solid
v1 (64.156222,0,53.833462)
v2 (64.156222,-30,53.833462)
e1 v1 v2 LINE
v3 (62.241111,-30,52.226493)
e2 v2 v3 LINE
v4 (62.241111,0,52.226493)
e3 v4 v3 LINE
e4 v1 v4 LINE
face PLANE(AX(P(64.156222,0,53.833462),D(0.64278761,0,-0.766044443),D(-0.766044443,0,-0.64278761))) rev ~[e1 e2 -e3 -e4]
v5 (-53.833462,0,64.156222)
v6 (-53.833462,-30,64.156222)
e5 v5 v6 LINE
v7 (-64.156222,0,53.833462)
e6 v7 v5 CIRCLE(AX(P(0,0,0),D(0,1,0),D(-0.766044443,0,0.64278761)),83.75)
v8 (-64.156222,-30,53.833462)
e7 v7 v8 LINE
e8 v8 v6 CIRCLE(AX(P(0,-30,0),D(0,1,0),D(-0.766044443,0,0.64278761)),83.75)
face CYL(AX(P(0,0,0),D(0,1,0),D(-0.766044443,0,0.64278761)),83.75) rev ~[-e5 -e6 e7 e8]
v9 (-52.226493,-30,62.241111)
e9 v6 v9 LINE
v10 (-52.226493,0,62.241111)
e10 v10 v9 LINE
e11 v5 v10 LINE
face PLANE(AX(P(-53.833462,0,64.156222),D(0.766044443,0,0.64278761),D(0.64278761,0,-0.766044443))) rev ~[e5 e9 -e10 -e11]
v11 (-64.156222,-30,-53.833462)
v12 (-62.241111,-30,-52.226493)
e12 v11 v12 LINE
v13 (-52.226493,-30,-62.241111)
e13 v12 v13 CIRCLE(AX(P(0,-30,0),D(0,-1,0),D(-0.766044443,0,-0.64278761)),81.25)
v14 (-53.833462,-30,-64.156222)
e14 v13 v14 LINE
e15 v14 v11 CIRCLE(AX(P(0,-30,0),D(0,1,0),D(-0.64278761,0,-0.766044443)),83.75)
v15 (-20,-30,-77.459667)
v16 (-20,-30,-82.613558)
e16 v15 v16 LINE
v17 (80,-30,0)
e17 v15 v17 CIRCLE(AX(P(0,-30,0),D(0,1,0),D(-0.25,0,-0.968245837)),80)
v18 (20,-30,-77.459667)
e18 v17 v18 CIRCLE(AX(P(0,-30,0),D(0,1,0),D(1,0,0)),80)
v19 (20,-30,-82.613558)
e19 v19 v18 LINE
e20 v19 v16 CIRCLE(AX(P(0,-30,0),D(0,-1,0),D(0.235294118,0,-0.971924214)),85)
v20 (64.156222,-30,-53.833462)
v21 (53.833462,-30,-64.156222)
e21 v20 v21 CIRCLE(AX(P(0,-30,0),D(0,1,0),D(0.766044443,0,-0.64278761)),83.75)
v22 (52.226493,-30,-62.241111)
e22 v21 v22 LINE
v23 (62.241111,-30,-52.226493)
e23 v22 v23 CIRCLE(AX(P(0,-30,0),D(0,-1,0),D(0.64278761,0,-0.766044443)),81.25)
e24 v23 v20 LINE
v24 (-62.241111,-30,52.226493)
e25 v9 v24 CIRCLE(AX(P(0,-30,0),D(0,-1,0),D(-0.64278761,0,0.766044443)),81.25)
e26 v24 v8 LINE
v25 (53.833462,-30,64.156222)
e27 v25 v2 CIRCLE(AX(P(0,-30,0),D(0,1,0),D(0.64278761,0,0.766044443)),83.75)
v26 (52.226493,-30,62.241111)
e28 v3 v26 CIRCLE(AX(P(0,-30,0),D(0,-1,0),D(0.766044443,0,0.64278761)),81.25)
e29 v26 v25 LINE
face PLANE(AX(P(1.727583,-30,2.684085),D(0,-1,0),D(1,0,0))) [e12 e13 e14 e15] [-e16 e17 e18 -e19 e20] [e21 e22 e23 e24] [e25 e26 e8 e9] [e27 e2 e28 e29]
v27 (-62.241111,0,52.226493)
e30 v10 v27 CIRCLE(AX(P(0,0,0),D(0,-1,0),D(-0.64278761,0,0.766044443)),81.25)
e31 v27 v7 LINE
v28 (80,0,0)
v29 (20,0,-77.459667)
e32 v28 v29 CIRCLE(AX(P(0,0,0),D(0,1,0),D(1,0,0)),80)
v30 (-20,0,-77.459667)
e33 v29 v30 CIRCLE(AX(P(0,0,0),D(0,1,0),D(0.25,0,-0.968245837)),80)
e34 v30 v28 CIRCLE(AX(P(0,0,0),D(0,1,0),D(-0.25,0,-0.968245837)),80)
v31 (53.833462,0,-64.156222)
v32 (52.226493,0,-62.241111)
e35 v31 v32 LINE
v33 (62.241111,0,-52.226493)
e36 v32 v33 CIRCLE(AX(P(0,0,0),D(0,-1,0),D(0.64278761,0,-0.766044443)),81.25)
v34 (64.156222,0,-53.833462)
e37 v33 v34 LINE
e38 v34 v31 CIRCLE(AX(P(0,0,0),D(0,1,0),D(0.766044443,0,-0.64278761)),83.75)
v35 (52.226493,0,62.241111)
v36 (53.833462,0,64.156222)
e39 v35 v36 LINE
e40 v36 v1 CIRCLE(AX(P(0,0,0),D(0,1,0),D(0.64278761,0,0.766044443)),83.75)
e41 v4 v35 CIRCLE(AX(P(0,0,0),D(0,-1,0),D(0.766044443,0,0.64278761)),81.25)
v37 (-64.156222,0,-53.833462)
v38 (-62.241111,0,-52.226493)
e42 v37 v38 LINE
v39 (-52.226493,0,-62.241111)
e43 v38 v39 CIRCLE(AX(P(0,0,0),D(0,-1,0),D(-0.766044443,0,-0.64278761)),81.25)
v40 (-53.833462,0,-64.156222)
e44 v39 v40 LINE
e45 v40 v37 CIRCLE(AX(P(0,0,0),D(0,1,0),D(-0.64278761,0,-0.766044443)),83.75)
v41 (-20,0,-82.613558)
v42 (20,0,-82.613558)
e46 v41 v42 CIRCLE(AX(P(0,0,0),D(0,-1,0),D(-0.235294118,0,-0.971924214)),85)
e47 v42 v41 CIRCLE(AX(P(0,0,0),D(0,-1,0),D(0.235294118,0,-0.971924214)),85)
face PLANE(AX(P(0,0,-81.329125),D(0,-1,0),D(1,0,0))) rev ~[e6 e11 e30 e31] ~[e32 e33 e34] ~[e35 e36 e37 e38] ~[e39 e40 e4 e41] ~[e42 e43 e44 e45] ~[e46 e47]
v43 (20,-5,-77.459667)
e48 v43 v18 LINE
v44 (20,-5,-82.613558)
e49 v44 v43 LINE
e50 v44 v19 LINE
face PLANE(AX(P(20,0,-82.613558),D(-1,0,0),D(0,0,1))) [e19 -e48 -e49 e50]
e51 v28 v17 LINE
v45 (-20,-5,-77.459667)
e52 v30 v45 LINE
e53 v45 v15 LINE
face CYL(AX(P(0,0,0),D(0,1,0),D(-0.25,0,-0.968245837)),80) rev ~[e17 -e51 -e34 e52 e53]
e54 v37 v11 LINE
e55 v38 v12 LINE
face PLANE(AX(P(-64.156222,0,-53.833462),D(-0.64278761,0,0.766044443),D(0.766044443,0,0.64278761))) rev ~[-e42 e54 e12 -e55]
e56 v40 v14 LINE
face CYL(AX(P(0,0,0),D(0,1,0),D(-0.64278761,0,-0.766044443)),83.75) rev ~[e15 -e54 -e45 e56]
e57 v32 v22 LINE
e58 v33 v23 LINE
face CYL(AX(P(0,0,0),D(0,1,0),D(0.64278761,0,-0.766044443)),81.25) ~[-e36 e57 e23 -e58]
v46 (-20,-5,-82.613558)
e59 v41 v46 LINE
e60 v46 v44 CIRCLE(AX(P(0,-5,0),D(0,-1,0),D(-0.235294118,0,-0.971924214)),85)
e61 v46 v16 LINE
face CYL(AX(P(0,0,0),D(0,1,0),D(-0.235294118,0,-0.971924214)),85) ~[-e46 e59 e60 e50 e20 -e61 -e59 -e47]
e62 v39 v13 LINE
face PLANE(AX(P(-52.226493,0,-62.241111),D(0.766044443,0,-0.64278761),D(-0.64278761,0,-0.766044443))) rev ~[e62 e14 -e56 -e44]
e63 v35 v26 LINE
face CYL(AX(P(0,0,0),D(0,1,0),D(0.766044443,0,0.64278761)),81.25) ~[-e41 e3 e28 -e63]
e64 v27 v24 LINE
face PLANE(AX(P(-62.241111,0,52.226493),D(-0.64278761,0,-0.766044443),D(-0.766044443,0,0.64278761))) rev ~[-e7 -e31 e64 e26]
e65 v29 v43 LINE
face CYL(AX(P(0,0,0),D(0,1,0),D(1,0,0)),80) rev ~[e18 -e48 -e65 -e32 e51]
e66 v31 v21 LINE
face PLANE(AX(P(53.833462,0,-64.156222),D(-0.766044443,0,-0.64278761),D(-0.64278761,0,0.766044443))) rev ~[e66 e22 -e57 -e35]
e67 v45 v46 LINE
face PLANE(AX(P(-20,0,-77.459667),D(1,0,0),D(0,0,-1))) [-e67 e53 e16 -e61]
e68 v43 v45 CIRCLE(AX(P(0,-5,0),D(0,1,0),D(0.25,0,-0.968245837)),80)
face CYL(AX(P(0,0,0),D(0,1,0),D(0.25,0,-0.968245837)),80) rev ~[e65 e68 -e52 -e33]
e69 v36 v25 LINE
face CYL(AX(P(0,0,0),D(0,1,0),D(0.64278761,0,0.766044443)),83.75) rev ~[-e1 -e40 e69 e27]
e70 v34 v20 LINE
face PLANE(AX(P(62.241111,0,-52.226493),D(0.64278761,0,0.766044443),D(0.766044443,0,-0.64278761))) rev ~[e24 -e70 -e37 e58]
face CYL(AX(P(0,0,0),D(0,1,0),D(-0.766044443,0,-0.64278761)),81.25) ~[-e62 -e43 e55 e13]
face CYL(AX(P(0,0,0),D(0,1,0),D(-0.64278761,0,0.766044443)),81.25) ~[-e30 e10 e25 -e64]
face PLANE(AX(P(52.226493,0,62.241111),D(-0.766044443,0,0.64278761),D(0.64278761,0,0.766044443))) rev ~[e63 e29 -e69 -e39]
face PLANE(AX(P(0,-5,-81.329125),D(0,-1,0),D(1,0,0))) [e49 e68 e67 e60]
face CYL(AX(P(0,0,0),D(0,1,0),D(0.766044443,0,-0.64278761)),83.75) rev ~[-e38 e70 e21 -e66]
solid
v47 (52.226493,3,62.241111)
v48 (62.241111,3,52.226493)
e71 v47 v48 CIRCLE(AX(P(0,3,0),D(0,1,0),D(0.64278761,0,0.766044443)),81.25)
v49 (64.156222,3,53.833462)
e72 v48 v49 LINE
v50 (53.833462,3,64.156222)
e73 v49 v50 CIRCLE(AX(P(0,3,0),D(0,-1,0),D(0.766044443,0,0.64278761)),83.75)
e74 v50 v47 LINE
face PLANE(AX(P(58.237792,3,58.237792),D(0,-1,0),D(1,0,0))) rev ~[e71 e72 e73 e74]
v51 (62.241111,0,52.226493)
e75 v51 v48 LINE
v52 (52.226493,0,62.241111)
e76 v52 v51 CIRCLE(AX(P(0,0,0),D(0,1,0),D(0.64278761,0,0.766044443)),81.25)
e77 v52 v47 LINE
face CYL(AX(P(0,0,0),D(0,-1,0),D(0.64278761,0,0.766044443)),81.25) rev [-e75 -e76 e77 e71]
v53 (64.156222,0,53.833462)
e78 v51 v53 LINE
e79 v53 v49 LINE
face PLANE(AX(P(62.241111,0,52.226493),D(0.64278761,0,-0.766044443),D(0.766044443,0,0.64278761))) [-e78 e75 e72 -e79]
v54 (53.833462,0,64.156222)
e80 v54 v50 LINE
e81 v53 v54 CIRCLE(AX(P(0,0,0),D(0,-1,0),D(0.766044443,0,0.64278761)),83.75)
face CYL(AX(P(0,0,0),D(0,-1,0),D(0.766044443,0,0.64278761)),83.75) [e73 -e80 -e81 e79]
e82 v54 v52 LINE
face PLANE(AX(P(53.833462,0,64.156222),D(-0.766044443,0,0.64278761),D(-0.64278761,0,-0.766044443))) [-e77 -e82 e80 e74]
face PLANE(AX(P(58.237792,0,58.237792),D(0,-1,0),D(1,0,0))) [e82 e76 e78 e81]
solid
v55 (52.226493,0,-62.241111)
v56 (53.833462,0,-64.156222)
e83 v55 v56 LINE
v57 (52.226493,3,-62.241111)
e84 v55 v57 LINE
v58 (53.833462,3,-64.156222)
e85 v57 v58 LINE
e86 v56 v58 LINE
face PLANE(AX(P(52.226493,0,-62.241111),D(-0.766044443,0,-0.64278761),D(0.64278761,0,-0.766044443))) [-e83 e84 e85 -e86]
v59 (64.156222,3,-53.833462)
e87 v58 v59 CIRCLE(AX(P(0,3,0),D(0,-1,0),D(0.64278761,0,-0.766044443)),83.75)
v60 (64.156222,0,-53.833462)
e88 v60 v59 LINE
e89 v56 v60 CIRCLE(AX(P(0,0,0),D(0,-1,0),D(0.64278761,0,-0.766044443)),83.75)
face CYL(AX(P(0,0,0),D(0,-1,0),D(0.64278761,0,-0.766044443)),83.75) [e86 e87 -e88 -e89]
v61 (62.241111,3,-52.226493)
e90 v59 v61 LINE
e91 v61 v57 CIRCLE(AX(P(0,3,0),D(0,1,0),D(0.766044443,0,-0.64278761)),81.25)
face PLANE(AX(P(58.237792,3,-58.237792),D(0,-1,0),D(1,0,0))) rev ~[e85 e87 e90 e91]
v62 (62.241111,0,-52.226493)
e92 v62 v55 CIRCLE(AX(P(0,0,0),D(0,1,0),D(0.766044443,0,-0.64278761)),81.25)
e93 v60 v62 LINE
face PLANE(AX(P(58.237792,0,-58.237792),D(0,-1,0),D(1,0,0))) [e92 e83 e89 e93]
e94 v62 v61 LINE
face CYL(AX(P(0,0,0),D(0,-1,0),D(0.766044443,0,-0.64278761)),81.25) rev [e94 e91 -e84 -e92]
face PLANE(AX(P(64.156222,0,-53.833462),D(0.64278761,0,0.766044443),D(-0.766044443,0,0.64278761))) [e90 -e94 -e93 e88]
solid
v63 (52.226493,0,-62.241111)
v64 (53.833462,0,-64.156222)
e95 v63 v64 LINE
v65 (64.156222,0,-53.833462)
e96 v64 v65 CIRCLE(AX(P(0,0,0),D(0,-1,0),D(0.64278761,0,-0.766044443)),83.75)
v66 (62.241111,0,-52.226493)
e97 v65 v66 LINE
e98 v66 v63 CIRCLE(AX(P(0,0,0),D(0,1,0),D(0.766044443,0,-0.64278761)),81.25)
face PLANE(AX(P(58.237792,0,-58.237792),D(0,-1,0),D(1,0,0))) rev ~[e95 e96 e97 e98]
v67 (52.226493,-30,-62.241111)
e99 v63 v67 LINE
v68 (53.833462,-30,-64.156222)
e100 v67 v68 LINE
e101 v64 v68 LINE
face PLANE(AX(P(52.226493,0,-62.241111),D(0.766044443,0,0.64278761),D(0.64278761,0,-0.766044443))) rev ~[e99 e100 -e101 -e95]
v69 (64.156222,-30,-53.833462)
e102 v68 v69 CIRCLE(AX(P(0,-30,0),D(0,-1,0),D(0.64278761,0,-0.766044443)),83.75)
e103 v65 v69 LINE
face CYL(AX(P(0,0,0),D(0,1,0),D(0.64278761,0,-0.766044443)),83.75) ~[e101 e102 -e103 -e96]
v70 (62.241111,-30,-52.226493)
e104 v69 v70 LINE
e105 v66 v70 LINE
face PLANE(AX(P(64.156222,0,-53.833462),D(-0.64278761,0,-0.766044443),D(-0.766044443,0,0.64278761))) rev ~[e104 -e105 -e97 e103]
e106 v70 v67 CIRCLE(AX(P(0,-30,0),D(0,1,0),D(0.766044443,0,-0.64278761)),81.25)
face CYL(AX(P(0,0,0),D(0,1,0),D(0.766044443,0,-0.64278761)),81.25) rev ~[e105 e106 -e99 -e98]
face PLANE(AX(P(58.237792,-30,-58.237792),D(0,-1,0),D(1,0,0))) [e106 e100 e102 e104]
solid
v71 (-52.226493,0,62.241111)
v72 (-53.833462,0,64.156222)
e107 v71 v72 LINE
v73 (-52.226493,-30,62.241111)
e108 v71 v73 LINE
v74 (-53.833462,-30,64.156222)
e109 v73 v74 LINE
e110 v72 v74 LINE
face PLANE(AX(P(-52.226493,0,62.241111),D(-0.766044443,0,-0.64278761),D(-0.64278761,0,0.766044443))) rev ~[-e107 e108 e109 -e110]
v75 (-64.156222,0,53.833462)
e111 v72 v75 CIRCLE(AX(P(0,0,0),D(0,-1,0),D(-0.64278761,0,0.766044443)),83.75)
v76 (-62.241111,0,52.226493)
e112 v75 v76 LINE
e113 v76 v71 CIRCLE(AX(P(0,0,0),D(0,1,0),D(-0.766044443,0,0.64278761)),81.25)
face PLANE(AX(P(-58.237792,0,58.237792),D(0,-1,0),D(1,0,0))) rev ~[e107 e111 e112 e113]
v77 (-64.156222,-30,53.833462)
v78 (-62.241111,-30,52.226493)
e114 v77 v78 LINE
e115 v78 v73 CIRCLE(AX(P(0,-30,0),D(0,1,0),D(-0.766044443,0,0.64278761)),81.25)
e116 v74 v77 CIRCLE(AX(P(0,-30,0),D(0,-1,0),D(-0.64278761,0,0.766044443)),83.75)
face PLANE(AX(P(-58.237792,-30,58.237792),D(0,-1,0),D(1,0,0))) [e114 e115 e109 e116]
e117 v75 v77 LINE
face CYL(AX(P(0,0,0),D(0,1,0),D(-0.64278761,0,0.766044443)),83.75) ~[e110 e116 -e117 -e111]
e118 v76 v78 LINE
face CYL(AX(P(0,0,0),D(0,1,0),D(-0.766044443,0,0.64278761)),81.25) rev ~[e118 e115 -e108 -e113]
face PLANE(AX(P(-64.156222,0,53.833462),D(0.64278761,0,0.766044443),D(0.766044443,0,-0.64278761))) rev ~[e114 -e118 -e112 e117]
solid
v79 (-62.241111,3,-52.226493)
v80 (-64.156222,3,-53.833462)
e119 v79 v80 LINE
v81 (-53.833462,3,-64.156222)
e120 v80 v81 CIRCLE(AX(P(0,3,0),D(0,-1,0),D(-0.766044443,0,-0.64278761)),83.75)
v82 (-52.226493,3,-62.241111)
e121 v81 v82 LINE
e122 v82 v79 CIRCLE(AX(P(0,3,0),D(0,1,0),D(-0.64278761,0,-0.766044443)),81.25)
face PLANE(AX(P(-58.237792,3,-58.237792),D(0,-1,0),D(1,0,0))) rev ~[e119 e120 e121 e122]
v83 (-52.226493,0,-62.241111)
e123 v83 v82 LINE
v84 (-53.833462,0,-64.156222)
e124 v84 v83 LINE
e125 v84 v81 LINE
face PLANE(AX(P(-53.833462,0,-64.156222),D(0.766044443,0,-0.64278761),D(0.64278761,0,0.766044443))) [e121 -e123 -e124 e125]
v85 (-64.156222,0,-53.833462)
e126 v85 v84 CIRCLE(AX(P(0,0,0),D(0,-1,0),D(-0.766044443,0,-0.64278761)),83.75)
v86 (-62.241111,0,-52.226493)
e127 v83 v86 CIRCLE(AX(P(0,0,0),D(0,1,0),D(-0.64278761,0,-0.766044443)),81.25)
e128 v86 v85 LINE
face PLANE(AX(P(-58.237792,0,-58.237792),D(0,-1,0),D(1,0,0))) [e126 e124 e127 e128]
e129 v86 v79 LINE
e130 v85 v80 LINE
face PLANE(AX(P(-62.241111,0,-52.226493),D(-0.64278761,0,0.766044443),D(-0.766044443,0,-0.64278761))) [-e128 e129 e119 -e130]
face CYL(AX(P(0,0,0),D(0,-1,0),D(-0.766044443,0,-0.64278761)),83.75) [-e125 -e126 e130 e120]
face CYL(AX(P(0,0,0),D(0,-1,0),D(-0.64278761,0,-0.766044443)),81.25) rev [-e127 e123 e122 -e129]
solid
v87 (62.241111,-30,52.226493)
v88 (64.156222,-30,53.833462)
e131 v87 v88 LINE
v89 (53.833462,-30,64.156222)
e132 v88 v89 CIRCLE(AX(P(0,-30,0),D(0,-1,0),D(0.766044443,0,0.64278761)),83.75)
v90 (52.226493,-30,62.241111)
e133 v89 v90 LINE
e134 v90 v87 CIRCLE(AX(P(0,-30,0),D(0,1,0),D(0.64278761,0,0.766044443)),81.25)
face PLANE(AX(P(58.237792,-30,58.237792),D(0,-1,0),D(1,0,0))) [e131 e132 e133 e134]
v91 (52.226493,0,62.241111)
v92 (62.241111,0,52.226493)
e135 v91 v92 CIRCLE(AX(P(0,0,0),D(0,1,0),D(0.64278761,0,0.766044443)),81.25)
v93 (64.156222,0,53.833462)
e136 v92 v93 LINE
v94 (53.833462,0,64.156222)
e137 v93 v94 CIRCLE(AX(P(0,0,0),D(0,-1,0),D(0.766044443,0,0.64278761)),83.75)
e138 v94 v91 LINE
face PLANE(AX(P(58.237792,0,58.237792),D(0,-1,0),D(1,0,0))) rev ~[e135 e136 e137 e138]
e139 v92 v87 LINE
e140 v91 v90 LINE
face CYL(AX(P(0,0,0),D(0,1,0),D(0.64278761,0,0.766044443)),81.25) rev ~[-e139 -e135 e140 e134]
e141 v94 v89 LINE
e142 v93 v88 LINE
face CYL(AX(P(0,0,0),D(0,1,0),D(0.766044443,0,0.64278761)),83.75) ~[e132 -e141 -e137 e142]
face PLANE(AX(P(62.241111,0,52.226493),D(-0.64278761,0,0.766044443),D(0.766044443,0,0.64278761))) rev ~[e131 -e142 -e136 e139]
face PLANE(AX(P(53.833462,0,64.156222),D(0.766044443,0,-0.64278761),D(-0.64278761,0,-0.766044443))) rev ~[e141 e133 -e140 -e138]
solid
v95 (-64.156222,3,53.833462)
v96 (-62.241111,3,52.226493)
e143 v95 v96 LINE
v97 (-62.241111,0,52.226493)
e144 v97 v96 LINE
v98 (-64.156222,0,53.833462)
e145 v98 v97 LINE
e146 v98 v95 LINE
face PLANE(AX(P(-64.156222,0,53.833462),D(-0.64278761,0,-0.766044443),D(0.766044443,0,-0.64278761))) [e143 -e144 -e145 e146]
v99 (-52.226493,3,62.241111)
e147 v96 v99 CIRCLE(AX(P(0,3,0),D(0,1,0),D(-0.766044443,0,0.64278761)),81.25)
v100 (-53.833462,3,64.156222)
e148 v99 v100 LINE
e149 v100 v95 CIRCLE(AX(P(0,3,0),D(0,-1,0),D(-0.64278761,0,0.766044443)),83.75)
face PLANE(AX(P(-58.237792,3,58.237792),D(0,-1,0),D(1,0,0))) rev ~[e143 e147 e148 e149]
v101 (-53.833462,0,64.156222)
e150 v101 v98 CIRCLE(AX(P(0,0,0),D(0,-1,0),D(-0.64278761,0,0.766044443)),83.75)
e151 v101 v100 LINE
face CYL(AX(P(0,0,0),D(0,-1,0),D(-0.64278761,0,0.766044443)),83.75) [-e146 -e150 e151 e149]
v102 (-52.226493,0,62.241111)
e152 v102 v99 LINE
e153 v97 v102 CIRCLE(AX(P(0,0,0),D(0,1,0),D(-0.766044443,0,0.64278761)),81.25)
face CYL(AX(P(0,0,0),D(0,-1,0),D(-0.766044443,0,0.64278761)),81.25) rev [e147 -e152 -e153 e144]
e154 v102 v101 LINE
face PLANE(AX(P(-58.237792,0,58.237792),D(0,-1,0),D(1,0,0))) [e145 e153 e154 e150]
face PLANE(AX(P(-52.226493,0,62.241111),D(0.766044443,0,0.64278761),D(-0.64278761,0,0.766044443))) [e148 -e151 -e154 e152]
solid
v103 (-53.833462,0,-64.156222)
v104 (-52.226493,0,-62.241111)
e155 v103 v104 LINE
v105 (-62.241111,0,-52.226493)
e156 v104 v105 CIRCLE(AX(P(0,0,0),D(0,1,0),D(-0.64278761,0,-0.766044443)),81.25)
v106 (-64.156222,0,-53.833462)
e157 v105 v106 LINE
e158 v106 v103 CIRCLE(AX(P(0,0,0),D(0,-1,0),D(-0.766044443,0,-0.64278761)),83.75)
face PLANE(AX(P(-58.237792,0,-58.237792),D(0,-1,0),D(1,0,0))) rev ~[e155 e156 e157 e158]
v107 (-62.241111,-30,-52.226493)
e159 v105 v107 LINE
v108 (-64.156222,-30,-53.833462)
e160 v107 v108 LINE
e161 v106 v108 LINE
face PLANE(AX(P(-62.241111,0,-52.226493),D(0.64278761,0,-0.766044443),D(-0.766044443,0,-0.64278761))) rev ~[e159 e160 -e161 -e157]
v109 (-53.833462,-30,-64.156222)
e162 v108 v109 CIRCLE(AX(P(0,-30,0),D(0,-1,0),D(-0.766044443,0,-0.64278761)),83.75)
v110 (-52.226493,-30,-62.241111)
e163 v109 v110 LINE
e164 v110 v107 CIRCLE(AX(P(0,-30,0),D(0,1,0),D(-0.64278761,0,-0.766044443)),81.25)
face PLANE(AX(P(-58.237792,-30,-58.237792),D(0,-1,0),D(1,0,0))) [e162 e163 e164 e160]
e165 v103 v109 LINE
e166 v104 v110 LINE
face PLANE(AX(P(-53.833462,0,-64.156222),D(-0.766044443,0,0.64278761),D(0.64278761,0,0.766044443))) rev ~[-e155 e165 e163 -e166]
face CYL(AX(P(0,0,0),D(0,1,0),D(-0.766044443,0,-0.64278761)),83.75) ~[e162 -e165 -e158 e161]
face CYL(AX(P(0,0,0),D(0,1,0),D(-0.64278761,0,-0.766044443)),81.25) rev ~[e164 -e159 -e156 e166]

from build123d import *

# Parameters (mm, degrees)
F1_DEPTH = 30
F2_DEPTH = 3
F3_DEPTH = 30
F4_DEPTH = 30
F5_DEPTH = 5


with BuildPart() as f1:
    # F0 (on Front) → F1 (new body)
    with BuildSketch(Plane.XZ):
        with BuildLine():
            ThreePointArc((-20, -77.4596669241), (-48.9897948557, 63.2455532034), (80, 0))
            ThreePointArc((80, 0), (63.2455532034, -48.9897948557), (20, -77.4596669241))
            Line((20, -77.4596669241), (20, -82.6135582093))
            ThreePointArc((20, -82.6135582093), (66.8019460794, -52.5594901041), (85, 0))
            ThreePointArc((85, 0), (-52.5594901041, 66.8019460794), (-20, -82.6135582093))
            Line((-20, -82.6135582093), (-20, -77.4596669241))
        make_face()
        with BuildLine():
            ThreePointArc((-53.8334623112, -64.1562221112), (-59.2201929244, -59.2201929244), (-64.1562221112, -53.8334623112))
            Line((-64.1562221112, -53.8334623112), (-62.2411110034, -52.226493287))
            ThreePointArc((-62.2411110034, -52.226493287), (-57.4524259714, -57.4524259714), (-52.226493287, -62.2411110034))
            Line((-52.226493287, -62.2411110034), (-53.8334623112, -64.1562221112))
        make_face(mode=Mode.SUBTRACT)
        with BuildLine():
            Line((53.8334623112, -64.1562221112), (52.226493287, -62.2411110034))
            ThreePointArc((52.226493287, -62.2411110034), (57.4524259714, -57.4524259714), (62.2411110034, -52.226493287))
            Line((62.2411110034, -52.226493287), (64.1562221112, -53.8334623112))
            ThreePointArc((64.1562221112, -53.8334623112), (59.2201929244, -59.2201929244), (53.8334623112, -64.1562221112))
        make_face(mode=Mode.SUBTRACT)
        with BuildLine():
            ThreePointArc((-64.1562221112, 53.8334623112), (-59.2201929244, 59.2201929244), (-53.8334623112, 64.1562221112))
            Line((-53.8334623112, 64.1562221112), (-52.226493287, 62.2411110034))
            ThreePointArc((-52.226493287, 62.2411110034), (-57.4524259714, 57.4524259714), (-62.2411110034, 52.226493287))
            Line((-62.2411110034, 52.226493287), (-64.1562221112, 53.8334623112))
        make_face(mode=Mode.SUBTRACT)
        with BuildLine():
            ThreePointArc((53.8334623112, 64.1562221112), (59.2201929244, 59.2201929244), (64.1562221112, 53.8334623112))
            Line((64.1562221112, 53.8334623112), (62.2411110034, 52.226493287))
            ThreePointArc((62.2411110034, 52.226493287), (57.4524259714, 57.4524259714), (52.226493287, 62.2411110034))
            Line((52.226493287, 62.2411110034), (53.8334623112, 64.1562221112))
        make_face(mode=Mode.SUBTRACT)
        with BuildLine():
            ThreePointArc((20, -77.4596669241), (0, -80), (-20, -77.4596669241))
            Line((-20, -77.4596669241), (-20, -82.6135582093))
            ThreePointArc((-20, -82.6135582093), (0, -85), (20, -82.6135582093))
            Line((20, -82.6135582093), (20, -77.4596669241))
        make_face()
    extrude(amount=F1_DEPTH)

    # F0 (on Front) → F4 (cut)
    with BuildSketch(Plane.XZ):
        with BuildLine():
            ThreePointArc((20, -77.4596669241), (0, -80), (-20, -77.4596669241))
            Line((-20, -77.4596669241), (-20, -82.6135582093))
            ThreePointArc((-20, -82.6135582093), (0, -85), (20, -82.6135582093))
            Line((20, -82.6135582093), (20, -77.4596669241))
        make_face()
    extrude(amount=F4_DEPTH, mode=Mode.SUBTRACT)

    # F0 (on Front) → F5 (join)
    with BuildSketch(Plane.XZ):
        with BuildLine():
            ThreePointArc((20, -77.4596669241), (0, -80), (-20, -77.4596669241))
            Line((-20, -77.4596669241), (-20, -82.6135582093))
            ThreePointArc((-20, -82.6135582093), (0, -85), (20, -82.6135582093))
            Line((20, -82.6135582093), (20, -77.4596669241))
        make_face()
    extrude(amount=F5_DEPTH)


with BuildPart() as f2:
    # F0 (on Front) → F2 (new body)
    with BuildSketch(Plane.XZ):
        with BuildLine():
            Line((-52.226493287, 62.2411110034), (-53.8334623112, 64.1562221112))
            ThreePointArc((-53.8334623112, 64.1562221112), (-59.2201929244, 59.2201929244), (-64.1562221112, 53.8334623112))
            Line((-64.1562221112, 53.8334623112), (-62.2411110034, 52.226493287))
            ThreePointArc((-62.2411110034, 52.226493287), (-57.4524259714, 57.4524259714), (-52.226493287, 62.2411110034))
        make_face()
    extrude(amount=-F2_DEPTH)


with BuildPart() as f2b:
    # F0 (on Front) → F2, piece 2 (new body)
    with BuildSketch(Plane.XZ):
        with BuildLine():
            Line((62.2411110034, 52.226493287), (64.1562221112, 53.8334623112))
            ThreePointArc((64.1562221112, 53.8334623112), (59.2201929244, 59.2201929244), (53.8334623112, 64.1562221112))
            Line((53.8334623112, 64.1562221112), (52.226493287, 62.2411110034))
            ThreePointArc((52.226493287, 62.2411110034), (57.4524259714, 57.4524259714), (62.2411110034, 52.226493287))
        make_face()
    extrude(amount=-F2_DEPTH)


with BuildPart() as f2c:
    # F0 (on Front) → F2, piece 3 (new body)
    with BuildSketch(Plane.XZ):
        with BuildLine():
            ThreePointArc((62.2411110034, -52.226493287), (57.4524259714, -57.4524259714), (52.226493287, -62.2411110034))
            Line((52.226493287, -62.2411110034), (53.8334623112, -64.1562221112))
            ThreePointArc((53.8334623112, -64.1562221112), (59.2201929244, -59.2201929244), (64.1562221112, -53.8334623112))
            Line((64.1562221112, -53.8334623112), (62.2411110034, -52.226493287))
        make_face()
    extrude(amount=-F2_DEPTH)


with BuildPart() as f2d:
    # F0 (on Front) → F2, piece 4 (new body)
    with BuildSketch(Plane.XZ):
        with BuildLine():
            Line((-62.2411110034, -52.226493287), (-64.1562221112, -53.8334623112))
            ThreePointArc((-64.1562221112, -53.8334623112), (-59.2201929244, -59.2201929244), (-53.8334623112, -64.1562221112))
            Line((-53.8334623112, -64.1562221112), (-52.226493287, -62.2411110034))
            ThreePointArc((-52.226493287, -62.2411110034), (-57.4524259714, -57.4524259714), (-62.2411110034, -52.226493287))
        make_face()
    extrude(amount=-F2_DEPTH)


with BuildPart() as f3:
    # F0 (on Front) → F3 (new body)
    with BuildSketch(Plane.XZ):
        with BuildLine():
            Line((-52.226493287, 62.2411110034), (-53.8334623112, 64.1562221112))
            ThreePointArc((-53.8334623112, 64.1562221112), (-59.2201929244, 59.2201929244), (-64.1562221112, 53.8334623112))
            Line((-64.1562221112, 53.8334623112), (-62.2411110034, 52.226493287))
            ThreePointArc((-62.2411110034, 52.226493287), (-57.4524259714, 57.4524259714), (-52.226493287, 62.2411110034))
        make_face()
    extrude(amount=F3_DEPTH)


with BuildPart() as f3b:
    # F0 (on Front) → F3, piece 2 (new body)
    with BuildSketch(Plane.XZ):
        with BuildLine():
            Line((-62.2411110034, -52.226493287), (-64.1562221112, -53.8334623112))
            ThreePointArc((-64.1562221112, -53.8334623112), (-59.2201929244, -59.2201929244), (-53.8334623112, -64.1562221112))
            Line((-53.8334623112, -64.1562221112), (-52.226493287, -62.2411110034))
            ThreePointArc((-52.226493287, -62.2411110034), (-57.4524259714, -57.4524259714), (-62.2411110034, -52.226493287))
        make_face()
    extrude(amount=F3_DEPTH)


with BuildPart() as f3c:
    # F0 (on Front) → F3, piece 3 (new body)
    with BuildSketch(Plane.XZ):
        with BuildLine():
            ThreePointArc((62.2411110034, -52.226493287), (57.4524259714, -57.4524259714), (52.226493287, -62.2411110034))
            Line((52.226493287, -62.2411110034), (53.8334623112, -64.1562221112))
            ThreePointArc((53.8334623112, -64.1562221112), (59.2201929244, -59.2201929244), (64.1562221112, -53.8334623112))
            Line((64.1562221112, -53.8334623112), (62.2411110034, -52.226493287))
        make_face()
    extrude(amount=F3_DEPTH)


with BuildPart() as f3d:
    # F0 (on Front) → F3, piece 4 (new body)
    with BuildSketch(Plane.XZ):
        with BuildLine():
            Line((62.2411110034, 52.226493287), (64.1562221112, 53.8334623112))
            ThreePointArc((64.1562221112, 53.8334623112), (59.2201929244, 59.2201929244), (53.8334623112, 64.1562221112))
            Line((53.8334623112, 64.1562221112), (52.226493287, 62.2411110034))
            ThreePointArc((52.226493287, 62.2411110034), (57.4524259714, 57.4524259714), (62.2411110034, 52.226493287))
        make_face()
    extrude(amount=F3_DEPTH)


solid = Compound([f1.part, f2.part, f2b.part, f2c.part, f2d.part, f3.part, f3b.part, f3c.part, f3d.part])
